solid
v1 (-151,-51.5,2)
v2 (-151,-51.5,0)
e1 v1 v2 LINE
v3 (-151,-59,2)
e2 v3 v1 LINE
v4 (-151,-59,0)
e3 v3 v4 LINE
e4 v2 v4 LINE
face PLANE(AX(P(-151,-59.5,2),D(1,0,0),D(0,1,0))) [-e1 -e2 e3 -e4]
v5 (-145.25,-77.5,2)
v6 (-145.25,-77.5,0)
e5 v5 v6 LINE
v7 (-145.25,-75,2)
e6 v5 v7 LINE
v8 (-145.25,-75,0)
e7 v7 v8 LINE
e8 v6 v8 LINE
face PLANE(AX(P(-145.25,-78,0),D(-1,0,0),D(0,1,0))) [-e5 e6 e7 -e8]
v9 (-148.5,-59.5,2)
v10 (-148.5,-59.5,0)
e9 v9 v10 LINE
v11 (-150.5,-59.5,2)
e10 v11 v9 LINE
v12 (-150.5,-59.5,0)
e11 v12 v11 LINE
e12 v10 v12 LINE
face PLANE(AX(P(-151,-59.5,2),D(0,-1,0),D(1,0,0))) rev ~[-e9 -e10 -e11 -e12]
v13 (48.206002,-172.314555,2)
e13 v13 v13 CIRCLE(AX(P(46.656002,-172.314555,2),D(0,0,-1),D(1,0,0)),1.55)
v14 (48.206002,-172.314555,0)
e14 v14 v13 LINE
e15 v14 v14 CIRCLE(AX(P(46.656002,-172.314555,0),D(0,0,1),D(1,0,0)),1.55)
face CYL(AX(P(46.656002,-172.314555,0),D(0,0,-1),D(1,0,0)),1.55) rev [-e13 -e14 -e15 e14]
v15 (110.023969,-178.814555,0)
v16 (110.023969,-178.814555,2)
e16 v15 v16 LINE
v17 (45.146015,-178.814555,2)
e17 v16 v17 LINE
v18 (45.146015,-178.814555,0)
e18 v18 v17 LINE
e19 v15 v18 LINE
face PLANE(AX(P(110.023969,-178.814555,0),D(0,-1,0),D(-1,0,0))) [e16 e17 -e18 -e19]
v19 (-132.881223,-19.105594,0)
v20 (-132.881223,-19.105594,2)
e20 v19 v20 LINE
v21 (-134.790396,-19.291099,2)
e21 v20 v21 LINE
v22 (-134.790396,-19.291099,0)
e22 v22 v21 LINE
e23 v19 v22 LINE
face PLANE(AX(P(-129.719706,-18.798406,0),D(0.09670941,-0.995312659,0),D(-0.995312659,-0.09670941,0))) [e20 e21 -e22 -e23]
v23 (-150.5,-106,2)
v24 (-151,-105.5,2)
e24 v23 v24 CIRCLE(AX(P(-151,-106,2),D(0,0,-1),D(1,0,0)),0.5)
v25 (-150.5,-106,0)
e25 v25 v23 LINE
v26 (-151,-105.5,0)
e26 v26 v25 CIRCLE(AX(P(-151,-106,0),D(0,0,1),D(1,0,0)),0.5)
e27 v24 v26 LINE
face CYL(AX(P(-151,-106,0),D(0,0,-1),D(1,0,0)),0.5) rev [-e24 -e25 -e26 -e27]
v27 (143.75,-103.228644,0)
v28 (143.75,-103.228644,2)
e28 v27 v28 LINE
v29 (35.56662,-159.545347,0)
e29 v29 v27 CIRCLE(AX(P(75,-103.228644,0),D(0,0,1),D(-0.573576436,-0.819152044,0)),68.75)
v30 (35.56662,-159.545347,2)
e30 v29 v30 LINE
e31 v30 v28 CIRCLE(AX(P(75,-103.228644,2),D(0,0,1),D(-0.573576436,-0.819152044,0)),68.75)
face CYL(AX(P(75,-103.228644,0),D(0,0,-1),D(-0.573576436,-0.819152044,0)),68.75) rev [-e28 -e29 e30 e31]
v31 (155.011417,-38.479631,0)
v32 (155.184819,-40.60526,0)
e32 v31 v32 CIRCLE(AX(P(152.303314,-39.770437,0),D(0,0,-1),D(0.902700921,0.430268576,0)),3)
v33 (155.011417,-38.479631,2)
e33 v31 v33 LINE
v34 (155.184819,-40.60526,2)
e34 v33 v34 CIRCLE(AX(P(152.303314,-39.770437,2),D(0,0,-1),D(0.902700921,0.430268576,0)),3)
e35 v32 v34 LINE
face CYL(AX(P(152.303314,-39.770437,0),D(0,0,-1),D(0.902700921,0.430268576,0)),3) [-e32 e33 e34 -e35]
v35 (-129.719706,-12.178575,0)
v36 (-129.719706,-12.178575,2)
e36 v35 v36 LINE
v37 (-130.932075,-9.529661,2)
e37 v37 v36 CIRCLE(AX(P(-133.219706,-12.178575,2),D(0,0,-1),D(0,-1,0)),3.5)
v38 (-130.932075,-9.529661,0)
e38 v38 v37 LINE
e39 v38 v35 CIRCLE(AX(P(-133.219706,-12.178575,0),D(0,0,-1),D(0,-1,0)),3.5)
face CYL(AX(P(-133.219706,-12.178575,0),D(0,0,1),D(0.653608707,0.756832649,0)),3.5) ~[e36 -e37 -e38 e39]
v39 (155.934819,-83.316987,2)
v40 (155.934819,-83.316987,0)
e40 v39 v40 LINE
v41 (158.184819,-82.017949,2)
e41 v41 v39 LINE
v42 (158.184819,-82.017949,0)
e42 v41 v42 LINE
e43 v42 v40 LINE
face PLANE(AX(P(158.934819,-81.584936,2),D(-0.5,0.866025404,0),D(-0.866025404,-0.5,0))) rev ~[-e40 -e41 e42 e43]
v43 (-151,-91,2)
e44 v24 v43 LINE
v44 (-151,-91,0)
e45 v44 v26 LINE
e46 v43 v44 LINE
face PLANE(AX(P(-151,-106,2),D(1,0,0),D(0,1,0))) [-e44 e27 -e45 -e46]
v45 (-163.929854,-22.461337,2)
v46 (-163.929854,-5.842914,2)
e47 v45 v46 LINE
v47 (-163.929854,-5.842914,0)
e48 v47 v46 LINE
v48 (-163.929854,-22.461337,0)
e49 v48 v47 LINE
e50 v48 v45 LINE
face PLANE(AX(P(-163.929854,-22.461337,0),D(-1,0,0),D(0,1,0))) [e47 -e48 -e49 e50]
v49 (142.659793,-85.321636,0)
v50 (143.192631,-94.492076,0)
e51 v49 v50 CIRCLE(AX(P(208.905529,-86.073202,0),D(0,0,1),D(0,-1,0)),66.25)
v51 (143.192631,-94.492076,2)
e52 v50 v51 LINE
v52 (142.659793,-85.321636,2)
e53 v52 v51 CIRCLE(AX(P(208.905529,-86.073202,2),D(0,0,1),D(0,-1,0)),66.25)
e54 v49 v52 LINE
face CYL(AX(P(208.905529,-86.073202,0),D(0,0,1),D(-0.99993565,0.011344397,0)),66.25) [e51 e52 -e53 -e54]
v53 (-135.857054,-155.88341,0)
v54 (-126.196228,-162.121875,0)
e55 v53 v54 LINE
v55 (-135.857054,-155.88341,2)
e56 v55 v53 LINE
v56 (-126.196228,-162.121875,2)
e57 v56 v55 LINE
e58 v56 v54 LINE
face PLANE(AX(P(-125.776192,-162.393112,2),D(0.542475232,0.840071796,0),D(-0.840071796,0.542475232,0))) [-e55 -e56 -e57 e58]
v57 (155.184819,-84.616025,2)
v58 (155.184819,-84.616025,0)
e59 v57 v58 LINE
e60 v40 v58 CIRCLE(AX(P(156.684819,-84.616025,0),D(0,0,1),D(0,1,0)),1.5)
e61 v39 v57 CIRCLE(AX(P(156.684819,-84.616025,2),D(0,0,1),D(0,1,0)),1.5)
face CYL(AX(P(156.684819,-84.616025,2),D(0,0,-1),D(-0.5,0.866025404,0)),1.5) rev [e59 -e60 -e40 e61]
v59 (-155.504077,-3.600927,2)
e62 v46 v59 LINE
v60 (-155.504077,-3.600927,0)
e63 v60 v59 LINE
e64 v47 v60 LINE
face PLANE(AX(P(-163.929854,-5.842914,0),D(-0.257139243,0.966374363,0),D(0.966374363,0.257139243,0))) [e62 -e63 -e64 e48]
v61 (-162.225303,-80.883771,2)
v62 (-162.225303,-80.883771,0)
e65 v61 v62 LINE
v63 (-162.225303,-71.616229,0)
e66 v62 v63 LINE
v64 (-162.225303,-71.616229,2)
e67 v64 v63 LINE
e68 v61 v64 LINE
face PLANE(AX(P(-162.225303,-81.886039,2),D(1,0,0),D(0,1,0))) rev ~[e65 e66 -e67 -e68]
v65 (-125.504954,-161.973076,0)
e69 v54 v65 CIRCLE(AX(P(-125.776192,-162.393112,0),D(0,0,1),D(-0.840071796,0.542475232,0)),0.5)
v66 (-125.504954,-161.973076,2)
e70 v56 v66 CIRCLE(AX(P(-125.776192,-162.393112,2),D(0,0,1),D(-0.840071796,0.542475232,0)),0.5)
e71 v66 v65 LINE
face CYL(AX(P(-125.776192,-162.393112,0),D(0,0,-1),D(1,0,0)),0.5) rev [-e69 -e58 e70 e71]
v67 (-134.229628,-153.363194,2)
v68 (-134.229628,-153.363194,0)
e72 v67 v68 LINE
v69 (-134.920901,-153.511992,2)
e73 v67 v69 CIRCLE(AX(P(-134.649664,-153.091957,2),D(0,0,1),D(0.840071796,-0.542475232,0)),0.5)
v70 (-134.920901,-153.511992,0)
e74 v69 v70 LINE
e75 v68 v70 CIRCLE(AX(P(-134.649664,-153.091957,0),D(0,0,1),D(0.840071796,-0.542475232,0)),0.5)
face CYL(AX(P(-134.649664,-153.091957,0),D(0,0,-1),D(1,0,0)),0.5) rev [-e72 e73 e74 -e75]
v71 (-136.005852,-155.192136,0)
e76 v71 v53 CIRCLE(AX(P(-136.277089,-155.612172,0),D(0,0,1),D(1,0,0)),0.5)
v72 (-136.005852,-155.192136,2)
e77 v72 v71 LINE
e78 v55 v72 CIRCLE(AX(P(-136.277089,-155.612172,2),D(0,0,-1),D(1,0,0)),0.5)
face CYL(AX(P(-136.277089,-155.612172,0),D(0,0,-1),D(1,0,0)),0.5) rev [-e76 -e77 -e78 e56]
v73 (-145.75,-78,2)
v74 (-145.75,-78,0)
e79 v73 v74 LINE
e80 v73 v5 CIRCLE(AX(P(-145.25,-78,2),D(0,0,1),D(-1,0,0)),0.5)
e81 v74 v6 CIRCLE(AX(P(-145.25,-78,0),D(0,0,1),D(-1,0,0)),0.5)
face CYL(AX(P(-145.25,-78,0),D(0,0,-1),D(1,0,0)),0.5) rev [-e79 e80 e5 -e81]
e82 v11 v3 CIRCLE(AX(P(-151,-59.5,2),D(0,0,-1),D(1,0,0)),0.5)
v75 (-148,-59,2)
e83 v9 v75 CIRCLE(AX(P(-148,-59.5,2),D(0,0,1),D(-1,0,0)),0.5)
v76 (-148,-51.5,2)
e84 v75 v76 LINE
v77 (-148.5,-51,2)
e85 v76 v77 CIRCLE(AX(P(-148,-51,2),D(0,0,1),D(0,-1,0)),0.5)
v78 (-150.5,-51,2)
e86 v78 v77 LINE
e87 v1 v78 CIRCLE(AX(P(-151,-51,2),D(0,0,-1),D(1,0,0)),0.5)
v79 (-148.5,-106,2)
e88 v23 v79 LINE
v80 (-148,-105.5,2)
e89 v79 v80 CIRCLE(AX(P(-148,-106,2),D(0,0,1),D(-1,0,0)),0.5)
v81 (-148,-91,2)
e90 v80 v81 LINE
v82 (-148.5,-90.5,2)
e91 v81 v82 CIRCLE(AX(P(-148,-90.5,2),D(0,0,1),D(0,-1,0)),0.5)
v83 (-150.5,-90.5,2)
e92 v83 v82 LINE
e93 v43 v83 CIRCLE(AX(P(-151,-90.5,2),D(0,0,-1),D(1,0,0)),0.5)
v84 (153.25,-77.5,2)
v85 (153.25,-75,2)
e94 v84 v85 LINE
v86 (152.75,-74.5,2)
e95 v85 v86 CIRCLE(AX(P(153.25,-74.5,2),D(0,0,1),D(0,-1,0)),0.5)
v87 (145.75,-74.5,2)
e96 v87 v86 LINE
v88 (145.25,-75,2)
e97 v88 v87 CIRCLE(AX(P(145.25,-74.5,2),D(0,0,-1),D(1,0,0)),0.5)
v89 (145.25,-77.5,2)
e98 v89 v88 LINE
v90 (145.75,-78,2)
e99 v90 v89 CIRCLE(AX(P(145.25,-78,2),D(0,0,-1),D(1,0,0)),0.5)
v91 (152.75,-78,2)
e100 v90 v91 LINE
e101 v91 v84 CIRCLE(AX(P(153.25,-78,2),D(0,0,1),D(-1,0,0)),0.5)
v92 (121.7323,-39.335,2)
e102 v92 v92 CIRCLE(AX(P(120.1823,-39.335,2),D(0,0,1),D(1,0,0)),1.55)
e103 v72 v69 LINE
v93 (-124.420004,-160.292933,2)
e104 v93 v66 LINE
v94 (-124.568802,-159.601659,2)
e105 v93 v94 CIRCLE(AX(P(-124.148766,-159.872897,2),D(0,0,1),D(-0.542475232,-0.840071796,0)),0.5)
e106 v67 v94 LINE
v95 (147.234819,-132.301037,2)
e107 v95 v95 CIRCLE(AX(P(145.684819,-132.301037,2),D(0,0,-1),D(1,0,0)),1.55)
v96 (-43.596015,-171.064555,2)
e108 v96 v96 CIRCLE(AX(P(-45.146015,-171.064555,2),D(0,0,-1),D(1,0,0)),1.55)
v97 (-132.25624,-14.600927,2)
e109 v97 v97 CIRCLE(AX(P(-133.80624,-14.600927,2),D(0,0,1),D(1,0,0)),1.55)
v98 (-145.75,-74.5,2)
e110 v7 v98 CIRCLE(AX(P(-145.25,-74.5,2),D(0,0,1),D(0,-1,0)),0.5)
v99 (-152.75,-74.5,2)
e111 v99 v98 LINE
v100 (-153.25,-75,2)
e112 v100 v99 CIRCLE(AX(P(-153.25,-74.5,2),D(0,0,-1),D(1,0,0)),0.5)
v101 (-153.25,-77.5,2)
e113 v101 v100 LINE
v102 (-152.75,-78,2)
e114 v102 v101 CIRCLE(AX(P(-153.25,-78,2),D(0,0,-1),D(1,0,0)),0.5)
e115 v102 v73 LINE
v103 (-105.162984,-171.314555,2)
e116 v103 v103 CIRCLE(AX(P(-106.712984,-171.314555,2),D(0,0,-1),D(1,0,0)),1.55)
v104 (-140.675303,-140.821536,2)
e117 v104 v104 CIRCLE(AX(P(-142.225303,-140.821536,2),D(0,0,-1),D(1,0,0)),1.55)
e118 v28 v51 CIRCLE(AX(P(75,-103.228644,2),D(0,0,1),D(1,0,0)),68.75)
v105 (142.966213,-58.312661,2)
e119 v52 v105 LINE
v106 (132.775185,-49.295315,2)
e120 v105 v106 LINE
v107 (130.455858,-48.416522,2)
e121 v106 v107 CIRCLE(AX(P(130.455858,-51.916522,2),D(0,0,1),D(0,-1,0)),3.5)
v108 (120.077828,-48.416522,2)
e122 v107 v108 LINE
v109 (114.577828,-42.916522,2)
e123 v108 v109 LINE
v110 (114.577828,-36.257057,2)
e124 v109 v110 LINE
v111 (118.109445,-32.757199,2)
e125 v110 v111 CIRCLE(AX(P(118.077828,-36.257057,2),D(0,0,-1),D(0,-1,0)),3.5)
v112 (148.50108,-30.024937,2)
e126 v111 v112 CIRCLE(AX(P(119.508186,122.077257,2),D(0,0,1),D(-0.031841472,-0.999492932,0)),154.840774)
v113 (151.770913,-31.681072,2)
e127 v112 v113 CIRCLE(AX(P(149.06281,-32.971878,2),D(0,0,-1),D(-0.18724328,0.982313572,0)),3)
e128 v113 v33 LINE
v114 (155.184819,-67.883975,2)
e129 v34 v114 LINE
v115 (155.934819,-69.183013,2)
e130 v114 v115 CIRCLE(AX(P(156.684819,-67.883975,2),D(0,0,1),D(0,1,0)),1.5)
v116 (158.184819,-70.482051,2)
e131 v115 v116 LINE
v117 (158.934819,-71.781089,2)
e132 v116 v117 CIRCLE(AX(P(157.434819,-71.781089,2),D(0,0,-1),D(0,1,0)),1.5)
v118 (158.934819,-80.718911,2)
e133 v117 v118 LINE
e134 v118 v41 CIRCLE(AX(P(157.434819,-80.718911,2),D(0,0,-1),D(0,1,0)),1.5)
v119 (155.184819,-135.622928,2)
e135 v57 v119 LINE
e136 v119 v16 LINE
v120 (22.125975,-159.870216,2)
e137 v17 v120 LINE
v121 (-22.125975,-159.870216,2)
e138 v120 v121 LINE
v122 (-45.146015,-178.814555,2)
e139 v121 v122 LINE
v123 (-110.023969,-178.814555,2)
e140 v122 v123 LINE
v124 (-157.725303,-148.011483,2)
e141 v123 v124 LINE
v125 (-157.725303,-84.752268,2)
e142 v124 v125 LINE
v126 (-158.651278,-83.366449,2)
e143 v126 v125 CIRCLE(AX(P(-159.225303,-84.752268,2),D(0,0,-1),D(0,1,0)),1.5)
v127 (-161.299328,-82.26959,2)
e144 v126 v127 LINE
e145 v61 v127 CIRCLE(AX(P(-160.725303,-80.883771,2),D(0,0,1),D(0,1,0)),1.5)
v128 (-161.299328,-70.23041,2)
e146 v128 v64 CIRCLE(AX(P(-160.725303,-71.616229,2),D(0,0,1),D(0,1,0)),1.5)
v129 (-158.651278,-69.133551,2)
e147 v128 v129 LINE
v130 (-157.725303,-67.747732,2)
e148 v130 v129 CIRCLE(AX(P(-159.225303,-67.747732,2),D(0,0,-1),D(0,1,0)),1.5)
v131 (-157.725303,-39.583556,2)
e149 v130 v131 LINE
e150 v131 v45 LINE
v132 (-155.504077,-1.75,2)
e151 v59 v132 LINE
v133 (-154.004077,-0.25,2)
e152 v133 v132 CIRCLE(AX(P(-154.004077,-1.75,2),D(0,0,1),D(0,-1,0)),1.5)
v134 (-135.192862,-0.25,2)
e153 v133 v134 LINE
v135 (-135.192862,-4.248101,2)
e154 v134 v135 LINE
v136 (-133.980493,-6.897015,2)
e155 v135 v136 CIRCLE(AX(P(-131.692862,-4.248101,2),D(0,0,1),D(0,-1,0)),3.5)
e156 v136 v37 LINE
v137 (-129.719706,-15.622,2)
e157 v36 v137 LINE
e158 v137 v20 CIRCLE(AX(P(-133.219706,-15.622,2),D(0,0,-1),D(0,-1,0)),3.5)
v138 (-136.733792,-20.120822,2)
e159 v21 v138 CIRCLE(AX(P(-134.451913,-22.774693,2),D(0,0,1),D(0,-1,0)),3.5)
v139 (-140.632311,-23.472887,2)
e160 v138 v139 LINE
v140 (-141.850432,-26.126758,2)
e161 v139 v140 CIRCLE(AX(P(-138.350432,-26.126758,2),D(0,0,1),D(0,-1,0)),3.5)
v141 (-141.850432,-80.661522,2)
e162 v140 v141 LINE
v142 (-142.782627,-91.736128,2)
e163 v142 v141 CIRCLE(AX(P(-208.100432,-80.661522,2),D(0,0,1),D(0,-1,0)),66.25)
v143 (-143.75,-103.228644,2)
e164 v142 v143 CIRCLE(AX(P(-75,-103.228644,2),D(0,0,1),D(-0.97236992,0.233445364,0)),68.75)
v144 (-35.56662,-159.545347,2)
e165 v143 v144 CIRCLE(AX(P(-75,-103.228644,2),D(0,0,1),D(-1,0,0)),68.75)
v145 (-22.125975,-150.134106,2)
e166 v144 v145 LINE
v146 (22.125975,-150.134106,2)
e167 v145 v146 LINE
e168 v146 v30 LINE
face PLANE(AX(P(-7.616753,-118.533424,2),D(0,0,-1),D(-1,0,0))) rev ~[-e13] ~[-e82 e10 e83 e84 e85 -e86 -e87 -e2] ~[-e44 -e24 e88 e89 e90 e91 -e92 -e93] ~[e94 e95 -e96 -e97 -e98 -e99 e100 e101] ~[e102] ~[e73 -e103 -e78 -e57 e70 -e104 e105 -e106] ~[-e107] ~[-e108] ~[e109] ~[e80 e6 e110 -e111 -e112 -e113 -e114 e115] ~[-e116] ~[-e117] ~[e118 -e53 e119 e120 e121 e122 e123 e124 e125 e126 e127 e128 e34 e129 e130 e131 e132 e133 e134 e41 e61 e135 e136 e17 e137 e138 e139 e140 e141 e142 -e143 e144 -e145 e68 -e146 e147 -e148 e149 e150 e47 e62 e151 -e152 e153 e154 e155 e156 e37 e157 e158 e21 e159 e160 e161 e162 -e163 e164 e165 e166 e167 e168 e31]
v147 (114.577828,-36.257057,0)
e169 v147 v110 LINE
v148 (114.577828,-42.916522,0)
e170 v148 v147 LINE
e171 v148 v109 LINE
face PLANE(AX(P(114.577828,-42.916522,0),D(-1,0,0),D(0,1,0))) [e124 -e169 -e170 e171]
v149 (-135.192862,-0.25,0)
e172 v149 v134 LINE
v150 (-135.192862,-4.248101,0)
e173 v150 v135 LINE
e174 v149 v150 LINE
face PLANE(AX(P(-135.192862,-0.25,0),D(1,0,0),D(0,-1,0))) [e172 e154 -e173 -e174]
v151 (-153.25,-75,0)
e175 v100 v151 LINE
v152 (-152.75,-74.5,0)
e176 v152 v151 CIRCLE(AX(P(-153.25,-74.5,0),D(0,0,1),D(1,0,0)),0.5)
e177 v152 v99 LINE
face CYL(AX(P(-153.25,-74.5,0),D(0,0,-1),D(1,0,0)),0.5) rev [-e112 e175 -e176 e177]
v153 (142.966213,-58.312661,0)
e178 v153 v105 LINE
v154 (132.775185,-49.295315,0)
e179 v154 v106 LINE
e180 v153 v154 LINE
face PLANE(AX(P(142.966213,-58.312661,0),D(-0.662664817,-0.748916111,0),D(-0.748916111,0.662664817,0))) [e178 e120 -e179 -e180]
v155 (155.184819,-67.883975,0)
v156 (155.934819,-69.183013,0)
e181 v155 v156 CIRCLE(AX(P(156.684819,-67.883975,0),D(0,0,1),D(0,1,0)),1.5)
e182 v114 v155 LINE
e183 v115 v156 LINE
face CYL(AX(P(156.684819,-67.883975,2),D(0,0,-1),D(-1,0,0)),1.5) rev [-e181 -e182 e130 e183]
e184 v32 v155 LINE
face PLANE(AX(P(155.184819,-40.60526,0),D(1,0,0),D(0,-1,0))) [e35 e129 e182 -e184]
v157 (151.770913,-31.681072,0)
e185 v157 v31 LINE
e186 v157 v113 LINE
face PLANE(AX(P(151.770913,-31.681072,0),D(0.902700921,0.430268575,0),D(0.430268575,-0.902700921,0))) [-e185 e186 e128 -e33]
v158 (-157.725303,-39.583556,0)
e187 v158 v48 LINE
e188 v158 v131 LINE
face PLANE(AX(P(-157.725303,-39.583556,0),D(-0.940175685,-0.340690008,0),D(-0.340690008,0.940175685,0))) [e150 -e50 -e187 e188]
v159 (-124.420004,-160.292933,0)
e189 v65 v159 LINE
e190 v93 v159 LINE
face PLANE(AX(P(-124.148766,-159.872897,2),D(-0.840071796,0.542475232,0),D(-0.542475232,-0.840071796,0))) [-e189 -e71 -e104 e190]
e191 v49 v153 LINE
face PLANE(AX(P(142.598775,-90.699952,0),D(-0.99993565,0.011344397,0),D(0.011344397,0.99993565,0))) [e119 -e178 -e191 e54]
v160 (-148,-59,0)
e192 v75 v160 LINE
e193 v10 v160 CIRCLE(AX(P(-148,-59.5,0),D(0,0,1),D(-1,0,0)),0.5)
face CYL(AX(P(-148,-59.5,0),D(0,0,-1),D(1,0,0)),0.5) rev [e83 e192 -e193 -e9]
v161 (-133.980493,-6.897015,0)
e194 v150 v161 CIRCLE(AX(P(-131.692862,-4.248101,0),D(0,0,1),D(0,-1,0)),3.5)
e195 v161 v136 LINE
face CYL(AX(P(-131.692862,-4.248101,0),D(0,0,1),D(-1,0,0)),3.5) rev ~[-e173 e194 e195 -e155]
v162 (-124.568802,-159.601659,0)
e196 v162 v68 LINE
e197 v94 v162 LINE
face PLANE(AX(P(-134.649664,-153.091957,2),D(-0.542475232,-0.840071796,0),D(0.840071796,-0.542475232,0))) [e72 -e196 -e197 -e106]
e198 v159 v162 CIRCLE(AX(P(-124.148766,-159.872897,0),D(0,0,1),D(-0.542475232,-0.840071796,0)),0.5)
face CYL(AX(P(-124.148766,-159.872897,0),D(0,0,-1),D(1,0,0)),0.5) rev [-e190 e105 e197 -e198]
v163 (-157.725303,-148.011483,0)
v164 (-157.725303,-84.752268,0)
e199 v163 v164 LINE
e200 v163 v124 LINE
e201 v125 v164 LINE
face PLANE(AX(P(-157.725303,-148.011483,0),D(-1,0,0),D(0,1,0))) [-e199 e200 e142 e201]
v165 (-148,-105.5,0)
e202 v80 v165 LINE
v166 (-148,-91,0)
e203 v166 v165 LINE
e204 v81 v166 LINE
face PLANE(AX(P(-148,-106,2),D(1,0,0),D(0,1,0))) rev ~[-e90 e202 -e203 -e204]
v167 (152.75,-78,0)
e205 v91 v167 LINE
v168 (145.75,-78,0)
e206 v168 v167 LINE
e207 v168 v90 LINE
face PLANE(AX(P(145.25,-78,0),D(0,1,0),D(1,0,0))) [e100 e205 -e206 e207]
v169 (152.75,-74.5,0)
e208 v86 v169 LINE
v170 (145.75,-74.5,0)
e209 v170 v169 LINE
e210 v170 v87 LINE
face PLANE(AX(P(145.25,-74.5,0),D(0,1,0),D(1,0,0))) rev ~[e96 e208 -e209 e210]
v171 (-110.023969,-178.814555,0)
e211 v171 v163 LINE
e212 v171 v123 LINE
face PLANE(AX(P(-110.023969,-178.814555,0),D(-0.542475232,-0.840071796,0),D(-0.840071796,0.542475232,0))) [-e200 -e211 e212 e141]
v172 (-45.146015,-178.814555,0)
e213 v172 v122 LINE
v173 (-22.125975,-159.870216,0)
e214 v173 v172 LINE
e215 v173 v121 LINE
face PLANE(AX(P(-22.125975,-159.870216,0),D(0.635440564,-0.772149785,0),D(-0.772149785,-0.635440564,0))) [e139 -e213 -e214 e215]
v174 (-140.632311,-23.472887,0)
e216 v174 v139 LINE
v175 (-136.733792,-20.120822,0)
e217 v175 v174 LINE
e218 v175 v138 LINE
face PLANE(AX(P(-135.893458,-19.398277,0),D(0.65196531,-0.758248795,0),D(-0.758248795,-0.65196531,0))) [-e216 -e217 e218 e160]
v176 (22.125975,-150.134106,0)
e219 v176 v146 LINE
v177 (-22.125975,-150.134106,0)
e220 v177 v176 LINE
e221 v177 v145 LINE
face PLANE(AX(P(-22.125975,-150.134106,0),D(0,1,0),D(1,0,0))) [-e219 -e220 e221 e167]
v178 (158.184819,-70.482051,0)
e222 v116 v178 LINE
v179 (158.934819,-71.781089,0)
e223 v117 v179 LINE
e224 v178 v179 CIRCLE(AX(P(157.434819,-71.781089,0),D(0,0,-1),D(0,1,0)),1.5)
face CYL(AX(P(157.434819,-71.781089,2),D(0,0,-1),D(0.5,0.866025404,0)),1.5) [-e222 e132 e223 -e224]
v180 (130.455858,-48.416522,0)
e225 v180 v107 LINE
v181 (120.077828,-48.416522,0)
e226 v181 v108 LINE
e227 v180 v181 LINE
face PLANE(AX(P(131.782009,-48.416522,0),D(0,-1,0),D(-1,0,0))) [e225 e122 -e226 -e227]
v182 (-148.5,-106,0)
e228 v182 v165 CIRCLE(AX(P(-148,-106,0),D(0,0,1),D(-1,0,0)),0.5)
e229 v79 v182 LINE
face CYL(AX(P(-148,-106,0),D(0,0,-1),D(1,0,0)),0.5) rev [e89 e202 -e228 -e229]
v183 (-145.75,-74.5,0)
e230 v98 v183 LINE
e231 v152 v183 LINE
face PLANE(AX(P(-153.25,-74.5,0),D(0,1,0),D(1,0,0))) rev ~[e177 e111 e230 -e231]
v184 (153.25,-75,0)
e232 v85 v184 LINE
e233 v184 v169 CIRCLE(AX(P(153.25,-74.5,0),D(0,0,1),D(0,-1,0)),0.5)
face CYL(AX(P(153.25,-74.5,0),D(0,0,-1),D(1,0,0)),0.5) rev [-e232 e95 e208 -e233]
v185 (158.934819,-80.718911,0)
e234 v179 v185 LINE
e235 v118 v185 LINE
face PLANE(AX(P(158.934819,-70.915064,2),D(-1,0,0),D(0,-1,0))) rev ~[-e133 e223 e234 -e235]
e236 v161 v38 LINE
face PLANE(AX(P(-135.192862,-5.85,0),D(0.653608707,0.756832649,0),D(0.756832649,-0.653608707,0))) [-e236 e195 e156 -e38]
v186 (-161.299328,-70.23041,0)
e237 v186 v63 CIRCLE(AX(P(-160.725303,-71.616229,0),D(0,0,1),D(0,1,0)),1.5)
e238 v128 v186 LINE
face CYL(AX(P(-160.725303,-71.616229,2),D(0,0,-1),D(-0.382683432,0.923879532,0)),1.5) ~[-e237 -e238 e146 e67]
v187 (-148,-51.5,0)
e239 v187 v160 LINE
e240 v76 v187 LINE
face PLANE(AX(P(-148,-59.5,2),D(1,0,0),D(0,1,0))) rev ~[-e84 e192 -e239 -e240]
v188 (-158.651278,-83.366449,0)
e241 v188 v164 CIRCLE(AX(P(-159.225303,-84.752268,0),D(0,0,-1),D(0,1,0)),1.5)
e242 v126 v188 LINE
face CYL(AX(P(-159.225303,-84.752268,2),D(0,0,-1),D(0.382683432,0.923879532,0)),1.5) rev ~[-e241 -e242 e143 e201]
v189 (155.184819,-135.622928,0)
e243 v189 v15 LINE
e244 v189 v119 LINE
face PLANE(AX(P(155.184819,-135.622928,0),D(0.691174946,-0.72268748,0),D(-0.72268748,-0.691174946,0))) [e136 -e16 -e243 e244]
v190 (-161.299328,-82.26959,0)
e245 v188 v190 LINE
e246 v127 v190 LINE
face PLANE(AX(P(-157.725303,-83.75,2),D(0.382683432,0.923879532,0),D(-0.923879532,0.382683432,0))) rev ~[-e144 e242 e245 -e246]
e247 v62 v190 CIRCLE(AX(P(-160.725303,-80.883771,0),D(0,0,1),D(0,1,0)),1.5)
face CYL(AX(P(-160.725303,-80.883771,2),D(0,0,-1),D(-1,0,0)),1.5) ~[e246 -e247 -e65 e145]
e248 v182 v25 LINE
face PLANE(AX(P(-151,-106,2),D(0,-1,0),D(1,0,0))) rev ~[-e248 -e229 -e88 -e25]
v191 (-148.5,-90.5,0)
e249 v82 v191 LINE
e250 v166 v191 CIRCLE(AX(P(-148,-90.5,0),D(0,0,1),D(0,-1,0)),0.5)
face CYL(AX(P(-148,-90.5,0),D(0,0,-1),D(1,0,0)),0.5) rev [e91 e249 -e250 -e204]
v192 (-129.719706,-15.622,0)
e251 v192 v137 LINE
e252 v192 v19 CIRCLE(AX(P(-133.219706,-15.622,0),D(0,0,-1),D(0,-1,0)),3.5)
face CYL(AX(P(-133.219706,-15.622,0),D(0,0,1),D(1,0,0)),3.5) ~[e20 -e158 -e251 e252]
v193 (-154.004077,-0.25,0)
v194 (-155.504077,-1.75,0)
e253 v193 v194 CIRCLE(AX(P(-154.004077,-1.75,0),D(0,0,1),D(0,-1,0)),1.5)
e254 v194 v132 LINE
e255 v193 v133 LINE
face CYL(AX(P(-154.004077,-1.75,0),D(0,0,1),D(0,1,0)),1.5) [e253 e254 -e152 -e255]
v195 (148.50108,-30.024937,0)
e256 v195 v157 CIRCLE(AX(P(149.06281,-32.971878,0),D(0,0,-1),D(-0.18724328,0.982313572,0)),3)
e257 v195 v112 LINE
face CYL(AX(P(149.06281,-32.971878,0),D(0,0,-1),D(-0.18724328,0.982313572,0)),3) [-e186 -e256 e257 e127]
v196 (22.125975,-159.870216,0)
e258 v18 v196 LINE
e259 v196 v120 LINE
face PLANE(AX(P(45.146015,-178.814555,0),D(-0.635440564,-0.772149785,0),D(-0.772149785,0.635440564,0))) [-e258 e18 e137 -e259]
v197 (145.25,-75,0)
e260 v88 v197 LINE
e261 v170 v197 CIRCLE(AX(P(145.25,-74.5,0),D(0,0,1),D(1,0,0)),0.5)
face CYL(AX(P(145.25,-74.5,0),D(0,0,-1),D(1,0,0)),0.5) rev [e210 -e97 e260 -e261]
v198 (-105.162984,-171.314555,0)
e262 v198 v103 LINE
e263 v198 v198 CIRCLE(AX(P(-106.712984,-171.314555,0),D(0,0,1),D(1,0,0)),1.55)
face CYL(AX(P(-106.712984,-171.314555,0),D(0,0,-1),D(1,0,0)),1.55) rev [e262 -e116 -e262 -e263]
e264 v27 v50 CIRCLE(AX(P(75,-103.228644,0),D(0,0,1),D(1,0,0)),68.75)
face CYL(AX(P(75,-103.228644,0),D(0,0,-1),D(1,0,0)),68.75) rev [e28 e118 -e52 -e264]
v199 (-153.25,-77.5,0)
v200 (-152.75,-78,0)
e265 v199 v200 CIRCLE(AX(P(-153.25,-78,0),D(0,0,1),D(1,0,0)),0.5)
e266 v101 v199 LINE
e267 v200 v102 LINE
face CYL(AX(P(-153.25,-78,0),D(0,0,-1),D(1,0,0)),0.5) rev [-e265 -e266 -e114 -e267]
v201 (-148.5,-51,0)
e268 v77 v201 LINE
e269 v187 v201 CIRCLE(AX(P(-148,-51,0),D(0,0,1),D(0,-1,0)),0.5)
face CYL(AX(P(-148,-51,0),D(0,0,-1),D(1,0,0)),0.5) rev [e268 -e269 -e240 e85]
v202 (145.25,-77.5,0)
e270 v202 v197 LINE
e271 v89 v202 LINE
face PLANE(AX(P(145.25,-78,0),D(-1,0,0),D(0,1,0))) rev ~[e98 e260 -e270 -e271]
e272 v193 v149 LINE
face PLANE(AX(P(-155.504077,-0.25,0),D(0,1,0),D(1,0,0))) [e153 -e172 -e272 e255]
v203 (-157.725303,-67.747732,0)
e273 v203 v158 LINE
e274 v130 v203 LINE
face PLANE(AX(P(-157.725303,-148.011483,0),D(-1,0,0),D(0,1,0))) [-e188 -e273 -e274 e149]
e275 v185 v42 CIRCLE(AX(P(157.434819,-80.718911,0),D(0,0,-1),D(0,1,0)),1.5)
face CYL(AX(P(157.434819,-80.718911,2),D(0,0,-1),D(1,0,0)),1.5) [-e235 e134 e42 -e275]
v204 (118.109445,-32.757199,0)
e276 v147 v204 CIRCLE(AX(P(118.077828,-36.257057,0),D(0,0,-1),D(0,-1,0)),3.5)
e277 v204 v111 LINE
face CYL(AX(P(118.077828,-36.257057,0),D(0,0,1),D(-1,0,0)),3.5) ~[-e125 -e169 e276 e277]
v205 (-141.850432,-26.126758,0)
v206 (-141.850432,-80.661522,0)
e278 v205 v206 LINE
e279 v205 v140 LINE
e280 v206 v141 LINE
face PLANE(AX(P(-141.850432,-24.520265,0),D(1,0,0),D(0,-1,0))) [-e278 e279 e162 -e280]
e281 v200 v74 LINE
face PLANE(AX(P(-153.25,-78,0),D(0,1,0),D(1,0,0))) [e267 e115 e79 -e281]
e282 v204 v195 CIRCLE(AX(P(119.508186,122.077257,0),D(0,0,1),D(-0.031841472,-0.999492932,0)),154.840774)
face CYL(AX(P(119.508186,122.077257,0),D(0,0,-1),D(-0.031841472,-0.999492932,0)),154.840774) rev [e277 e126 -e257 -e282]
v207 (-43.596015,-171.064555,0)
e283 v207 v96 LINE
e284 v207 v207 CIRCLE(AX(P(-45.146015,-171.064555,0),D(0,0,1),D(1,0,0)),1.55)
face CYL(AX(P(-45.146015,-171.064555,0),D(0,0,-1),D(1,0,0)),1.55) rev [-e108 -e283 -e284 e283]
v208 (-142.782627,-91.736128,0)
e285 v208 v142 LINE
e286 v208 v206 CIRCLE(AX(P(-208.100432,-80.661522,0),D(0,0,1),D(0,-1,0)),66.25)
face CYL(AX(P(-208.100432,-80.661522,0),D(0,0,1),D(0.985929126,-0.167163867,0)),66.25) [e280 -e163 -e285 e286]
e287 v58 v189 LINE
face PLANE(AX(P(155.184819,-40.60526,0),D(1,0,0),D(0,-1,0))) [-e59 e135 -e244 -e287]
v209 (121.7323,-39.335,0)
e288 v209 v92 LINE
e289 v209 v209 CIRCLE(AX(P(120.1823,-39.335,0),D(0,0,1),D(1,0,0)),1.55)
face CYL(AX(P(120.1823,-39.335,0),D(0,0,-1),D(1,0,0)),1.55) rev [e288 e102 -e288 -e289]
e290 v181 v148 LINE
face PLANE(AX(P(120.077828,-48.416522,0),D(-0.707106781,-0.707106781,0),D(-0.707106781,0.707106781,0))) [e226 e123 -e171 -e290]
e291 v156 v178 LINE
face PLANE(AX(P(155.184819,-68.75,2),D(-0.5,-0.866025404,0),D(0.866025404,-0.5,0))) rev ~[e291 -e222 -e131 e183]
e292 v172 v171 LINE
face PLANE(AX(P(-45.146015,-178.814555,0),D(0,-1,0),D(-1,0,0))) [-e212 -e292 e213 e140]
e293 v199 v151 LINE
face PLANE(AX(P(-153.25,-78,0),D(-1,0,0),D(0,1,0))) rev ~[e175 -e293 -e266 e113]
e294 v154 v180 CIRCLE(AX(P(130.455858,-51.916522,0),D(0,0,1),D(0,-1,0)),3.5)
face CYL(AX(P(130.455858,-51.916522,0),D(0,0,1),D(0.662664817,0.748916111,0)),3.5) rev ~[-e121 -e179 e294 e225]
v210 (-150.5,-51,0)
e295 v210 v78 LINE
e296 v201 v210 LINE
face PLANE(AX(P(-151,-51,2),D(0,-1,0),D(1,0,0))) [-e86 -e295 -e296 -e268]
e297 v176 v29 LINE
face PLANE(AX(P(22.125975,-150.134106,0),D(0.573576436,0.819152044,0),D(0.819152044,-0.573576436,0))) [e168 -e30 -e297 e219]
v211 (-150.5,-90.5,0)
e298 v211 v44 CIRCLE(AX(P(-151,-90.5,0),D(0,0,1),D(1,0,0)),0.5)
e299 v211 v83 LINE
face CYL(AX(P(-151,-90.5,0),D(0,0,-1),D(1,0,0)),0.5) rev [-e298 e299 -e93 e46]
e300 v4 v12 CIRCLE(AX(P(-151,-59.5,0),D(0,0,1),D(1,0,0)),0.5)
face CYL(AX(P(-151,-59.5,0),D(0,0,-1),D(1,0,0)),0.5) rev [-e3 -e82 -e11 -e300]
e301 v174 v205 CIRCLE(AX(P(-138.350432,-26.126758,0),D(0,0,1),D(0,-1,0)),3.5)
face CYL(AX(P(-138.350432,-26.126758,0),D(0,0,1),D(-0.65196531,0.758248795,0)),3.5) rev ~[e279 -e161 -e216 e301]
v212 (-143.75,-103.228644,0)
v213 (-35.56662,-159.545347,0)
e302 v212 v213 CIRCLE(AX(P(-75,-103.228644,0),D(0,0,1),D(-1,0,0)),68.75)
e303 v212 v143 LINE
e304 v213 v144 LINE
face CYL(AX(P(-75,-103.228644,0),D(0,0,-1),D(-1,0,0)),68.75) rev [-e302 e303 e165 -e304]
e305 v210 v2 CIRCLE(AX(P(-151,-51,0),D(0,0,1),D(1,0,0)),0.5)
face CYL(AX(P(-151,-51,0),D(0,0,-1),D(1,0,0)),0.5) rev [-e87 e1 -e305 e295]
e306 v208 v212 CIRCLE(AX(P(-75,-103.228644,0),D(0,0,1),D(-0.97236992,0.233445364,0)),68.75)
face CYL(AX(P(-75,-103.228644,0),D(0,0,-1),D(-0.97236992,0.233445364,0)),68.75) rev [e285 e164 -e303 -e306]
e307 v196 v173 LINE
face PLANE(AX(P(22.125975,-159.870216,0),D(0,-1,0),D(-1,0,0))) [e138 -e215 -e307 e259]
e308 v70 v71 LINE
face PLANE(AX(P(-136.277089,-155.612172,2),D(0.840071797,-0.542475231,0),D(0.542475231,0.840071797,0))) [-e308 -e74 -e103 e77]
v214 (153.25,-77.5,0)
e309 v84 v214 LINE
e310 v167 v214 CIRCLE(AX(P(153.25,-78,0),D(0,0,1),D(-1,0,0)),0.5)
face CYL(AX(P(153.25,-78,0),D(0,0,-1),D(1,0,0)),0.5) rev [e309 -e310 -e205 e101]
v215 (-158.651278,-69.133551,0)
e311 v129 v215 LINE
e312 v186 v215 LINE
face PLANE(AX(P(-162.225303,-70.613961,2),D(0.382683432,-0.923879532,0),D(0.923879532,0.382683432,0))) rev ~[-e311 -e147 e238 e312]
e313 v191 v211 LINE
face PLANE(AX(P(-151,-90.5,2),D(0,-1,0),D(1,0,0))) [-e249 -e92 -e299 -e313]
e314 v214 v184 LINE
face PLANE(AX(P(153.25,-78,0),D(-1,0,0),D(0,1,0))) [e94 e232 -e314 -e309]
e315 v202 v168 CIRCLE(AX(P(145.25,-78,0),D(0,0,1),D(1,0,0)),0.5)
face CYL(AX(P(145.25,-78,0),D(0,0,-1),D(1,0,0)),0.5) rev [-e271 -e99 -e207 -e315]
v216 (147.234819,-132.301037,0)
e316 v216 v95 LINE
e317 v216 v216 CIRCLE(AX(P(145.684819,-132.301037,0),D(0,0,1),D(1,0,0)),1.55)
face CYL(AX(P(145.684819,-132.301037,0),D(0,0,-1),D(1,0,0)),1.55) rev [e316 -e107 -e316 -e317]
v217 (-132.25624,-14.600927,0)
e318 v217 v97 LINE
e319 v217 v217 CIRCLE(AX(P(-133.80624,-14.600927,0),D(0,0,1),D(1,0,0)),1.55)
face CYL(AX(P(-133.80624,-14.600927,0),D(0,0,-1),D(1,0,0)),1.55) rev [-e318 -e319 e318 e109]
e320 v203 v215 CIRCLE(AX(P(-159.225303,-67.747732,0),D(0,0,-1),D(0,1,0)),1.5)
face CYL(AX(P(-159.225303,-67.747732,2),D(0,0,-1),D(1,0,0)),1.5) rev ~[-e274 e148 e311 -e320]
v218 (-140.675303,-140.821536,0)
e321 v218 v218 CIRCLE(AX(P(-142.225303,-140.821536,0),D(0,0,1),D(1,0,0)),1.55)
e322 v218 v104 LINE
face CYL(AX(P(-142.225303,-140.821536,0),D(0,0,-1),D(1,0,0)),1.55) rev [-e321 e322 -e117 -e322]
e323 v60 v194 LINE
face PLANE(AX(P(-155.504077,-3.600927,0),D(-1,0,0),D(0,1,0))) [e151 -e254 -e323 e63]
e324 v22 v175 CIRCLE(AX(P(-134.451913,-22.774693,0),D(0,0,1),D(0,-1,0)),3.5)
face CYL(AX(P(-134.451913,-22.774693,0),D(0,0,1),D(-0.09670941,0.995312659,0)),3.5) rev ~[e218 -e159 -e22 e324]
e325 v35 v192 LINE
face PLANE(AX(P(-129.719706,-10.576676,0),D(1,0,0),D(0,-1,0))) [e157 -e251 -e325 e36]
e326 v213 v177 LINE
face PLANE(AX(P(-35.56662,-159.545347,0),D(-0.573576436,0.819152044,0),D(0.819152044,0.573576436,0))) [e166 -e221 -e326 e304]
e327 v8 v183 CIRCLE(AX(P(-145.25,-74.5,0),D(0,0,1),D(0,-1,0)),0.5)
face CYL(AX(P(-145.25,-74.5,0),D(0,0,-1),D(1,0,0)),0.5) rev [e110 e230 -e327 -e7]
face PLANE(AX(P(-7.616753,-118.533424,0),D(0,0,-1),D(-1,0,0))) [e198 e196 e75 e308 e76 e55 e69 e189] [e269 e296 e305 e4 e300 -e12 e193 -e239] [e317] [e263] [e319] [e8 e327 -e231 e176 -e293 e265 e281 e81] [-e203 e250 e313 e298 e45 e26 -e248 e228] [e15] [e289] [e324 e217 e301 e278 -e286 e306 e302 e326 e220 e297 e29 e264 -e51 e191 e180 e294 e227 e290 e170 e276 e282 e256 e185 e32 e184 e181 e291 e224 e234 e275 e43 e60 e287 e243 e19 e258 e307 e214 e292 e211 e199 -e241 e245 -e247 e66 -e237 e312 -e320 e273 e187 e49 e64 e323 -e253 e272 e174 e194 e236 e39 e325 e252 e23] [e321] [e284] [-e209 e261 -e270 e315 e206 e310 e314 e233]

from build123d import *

# Parameters (mm, degrees)
SKETCH_1_R             = 1.55
SKETCH_1_W             = 8
SKETCH_1_H             = 3.5
EXTRUDE_1_DEPTH        = 2
EXTRUDE_START          = 2
EXTRUDE_2_DEPTH        = 2
FILLET_1_R             = 66.25
FILLET_4_R             = 1.5
SKETCH_7093_W          = 3
SKETCH_7093_H          = 15.5
SKETCH_7093_H_2        = 8.5
CUT_EXTRUDE_7585_DEPTH = 243.593574343
SKETCH_4_R             = 1.55
CUT_EXTRUDE_3_DEPTH    = 243.593574343
FILLET_5_R             = 3.5
SKETCH_8290_R          = 0.5
CUT_EXTRUDE_8728_DEPTH = 243.593574343


with BuildPart() as part:
    # 草图1 → 凸台-拉伸1 (new body)
    with BuildSketch(Plane.XY):
        with BuildLine():
            Line((155.184819061, -135.622927906), (110.023968778, -178.814555125))
            Line((110.023968778, -178.814555125), (45.146014647, -178.814555125))
            Line((45.146014647, -178.814555125), (22.125974708, -159.870216287))
            Line((22.125974708, -159.870216287), (-22.125974708, -159.870216287))
            Line((-22.125974708, -159.870216287), (-45.146014647, -178.814555125))
            Line((-45.146014647, -178.814555125), (-110.023968778, -178.814555125))
            Line((-110.023968778, -178.814555125), (-157.725302675, -148.011482983))
            Line((-157.725302675, -148.011482983), (-157.725302675, -39.583555807))
            Line((-157.725302675, -39.583555807), (-163.929854474, -22.461337388))
            Line((-163.929854474, -22.461337388), (-163.929854474, -5.84291361))
            Line((-163.929854474, -5.84291361), (-155.504077083, -3.600927376))
            Line((-155.504077083, -3.600927376), (-155.504077083, -0.25))
            Line((-155.504077083, -0.25), (-135.192862201, -0.25))
            Line((-135.192862201, -0.25), (-135.192862201, -5.85))
            Line((-135.192862201, -5.85), (-129.719705899, -10.576675864))
            Line((-129.719705899, -10.576675864), (-129.719705899, -18.798405758))
            Line((-129.719705899, -18.798405758), (-135.893457817, -19.398277466))
            Line((-135.893457817, -19.398277466), (-141.850432027, -24.52026455))
            Line((-141.850432027, -24.52026455), (-141.850432027, -87.17927527))
            ThreePointArc((-141.850432027, -87.17927527), (-143.273456416, -95.14794796), (-143.75, -103.228644035))
            ThreePointArc((-143.75, -103.228644035), (-106.74521716, -164.210638816), (-35.566620001, -159.54534708))
            Line((-35.566620001, -159.54534708), (-22.125974708, -150.134105928))
            Line((-22.125974708, -150.134105928), (22.125974708, -150.134105928))
            Line((22.125974708, -150.134105928), (35.566620001, -159.54534708))
            ThreePointArc((35.566620001, -159.54534708), (106.74521716, -164.210638816), (143.75, -103.228644035))
            ThreePointArc((143.75, -103.228644035), (143.461588771, -96.937907752), (142.598774895, -90.699951658))
            Line((142.598774895, -90.699951658), (142.966212817, -58.312660923))
            Line((142.966212817, -58.312660923), (131.782009345, -48.416521639))
            Line((131.782009345, -48.416521639), (120.077827626, -48.416521639))
            Line((120.077827626, -48.416521639), (114.577827626, -42.916521639))
            Line((114.577827626, -42.916521639), (114.577827626, -32.685002446))
            ThreePointArc((114.577827626, -32.685002446), (131.61274691, -32.289659724), (148.501080229, -30.024937097))
            ThreePointArc((148.501080229, -30.024937097), (150.418326561, -30.295579056), (151.770912833, -31.681072088))
            Line((151.770912833, -31.681072088), (155.01141709, -38.479630817))
            ThreePointArc((155.01141709, -38.479630817), (155.29338172, -39.526516509), (155.184819061, -40.605260155))
            Line((155.184819061, -40.605260155), (155.184819061, -135.622927906))
        make_face()
        with Locations((-133.806240002, -14.600927376)):
            Circle(SKETCH_1_R, mode=Mode.SUBTRACT)
        with Locations((120.182300402, -39.335)):
            Circle(SKETCH_1_R, mode=Mode.SUBTRACT)
        with Locations((149.25, -76.25)):
            Rectangle(SKETCH_1_W, SKETCH_1_H, mode=Mode.SUBTRACT)
        with Locations((-149.25, -76.25)):
            Rectangle(SKETCH_1_W, SKETCH_1_H, mode=Mode.SUBTRACT)
    extrude(amount=EXTRUDE_1_DEPTH)

    # 草图2 → 凸台-拉伸2 (add)
    with BuildSketch(Plane.XY.offset(EXTRUDE_START)):
        Polygon((155.184819061, -68.75), (158.934819061, -70.915063509), (158.934819061, -81.584936491), (155.184819061, -83.75), align=None)
        Polygon((-157.725302675, -68.75), (-157.725302675, -83.75), (-162.225302675, -81.886038969), (-162.225302675, -70.613961031), align=None)
    extrude(amount=-EXTRUDE_2_DEPTH)

    # 圆角1
    fillet_1_edges = [part.edges().sort_by_distance(p)[0] for p in [
        (-141.850432027, -87.17927527, 1),
        (142.598774895, -90.699951658, 1),
    ]]
    fillet(fillet_1_edges, radius=FILLET_1_R)

    # 圆角4
    fillet_4_edges = [part.edges().sort_by_distance(p)[0] for p in [
        (158.934819061, -81.584936491, 1),
        (158.934819061, -70.915063509, 1),
        (155.184819061, -68.75, 1),
        (155.184819061, -83.75, 1),
        (-162.225302675, -70.613961031, 1),
        (-162.225302675, -81.886038969, 1),
        (-157.725302675, -83.75, 1),
        (-157.725302675, -68.75, 1),
        (-155.504077083, -0.25, 1),
    ]]
    fillet(fillet_4_edges, radius=FILLET_4_R)

    # Sketch 7093 → Cut-Extrude 7585 (cut, through all)
    with BuildSketch(Plane.XY.offset(2)):
        with Locations((-149.5, -98.25)):
            Rectangle(SKETCH_7093_W, SKETCH_7093_H)
        with Locations((-149.5, -55.25)):
            Rectangle(SKETCH_7093_W, SKETCH_7093_H_2)
        Polygon((-134.649663794, -153.091956536), (-124.148766338, -159.87289693), (-125.776192033, -162.39311232), (-136.277089488, -155.612171926), align=None)
    extrude(amount=-CUT_EXTRUDE_7585_DEPTH, mode=Mode.SUBTRACT)

    # 草图4 → 切除-拉伸3 (cut, through all)
    with BuildSketch(Plane.XY):
        with Locations((-142.225302675, -140.821536198)):
            Circle(SKETCH_4_R)
        with Locations((-45.146014647, -171.064555125)):
            Circle(SKETCH_4_R)
        with Locations((-106.712983856, -171.314555125)):
            Circle(SKETCH_4_R)
        with Locations((46.656002152, -172.314555125)):
            Circle(SKETCH_4_R)
        with Locations((145.684819061, -132.301036976)):
            Circle(SKETCH_4_R)
    extrude(amount=CUT_EXTRUDE_3_DEPTH, mode=Mode.SUBTRACT)

    # 圆角5
    fillet_5_edges = [part.edges().sort_by_distance(p)[0] for p in [
        (-135.192862201, -5.85, 1),
        (-129.719705899, -10.576675864, 1),
        (-129.719705899, -18.798405758, 1),
        (-135.893457817, -19.398277466, 1),
        (-141.850432027, -24.52026455, 1),
        (131.782009345, -48.416521639, 1),
        (114.577827626, -32.685002446, 1),
    ]]
    fillet(fillet_5_edges, radius=FILLET_5_R)

    # Sketch 8290 → Cut-Extrude 8728 (cut, through all)
    with BuildSketch(Plane.XY):
        with Locations((-151, -51)):
            Circle(SKETCH_8290_R)
        with Locations((-148, -51)):
            Circle(SKETCH_8290_R)
        with Locations((-151, -59.5)):
            Circle(SKETCH_8290_R)
        with Locations((-148, -59.5)):
            Circle(SKETCH_8290_R)
        with Locations((-153.25, -74.5)):
            Circle(SKETCH_8290_R)
        with Locations((-145.25, -74.5)):
            Circle(SKETCH_8290_R)
        with Locations((-145.25, -78)):
            Circle(SKETCH_8290_R)
        with Locations((-153.25, -78)):
            Circle(SKETCH_8290_R)
        with Locations((-151, -90.5)):
            Circle(SKETCH_8290_R)
        with Locations((-148, -90.5)):
            Circle(SKETCH_8290_R)
        with Locations((-151, -106)):
            Circle(SKETCH_8290_R)
        with Locations((-148, -106)):
            Circle(SKETCH_8290_R)
        with Locations((-134.649663794, -153.091956536)):
            Circle(SKETCH_8290_R)
        with Locations((-136.277089488, -155.612171926)):
            Circle(SKETCH_8290_R)
        with Locations((-124.148766338, -159.87289693)):
            Circle(SKETCH_8290_R)
        with Locations((-125.776192033, -162.39311232)):
            Circle(SKETCH_8290_R)
        with Locations((145.25, -74.5)):
            Circle(SKETCH_8290_R)
        with Locations((153.25, -74.5)):
            Circle(SKETCH_8290_R)
        with Locations((153.25, -78)):
            Circle(SKETCH_8290_R)
        with Locations((145.25, -78)):
            Circle(SKETCH_8290_R)
    extrude(amount=CUT_EXTRUDE_8728_DEPTH, mode=Mode.SUBTRACT)


solid = part.part
